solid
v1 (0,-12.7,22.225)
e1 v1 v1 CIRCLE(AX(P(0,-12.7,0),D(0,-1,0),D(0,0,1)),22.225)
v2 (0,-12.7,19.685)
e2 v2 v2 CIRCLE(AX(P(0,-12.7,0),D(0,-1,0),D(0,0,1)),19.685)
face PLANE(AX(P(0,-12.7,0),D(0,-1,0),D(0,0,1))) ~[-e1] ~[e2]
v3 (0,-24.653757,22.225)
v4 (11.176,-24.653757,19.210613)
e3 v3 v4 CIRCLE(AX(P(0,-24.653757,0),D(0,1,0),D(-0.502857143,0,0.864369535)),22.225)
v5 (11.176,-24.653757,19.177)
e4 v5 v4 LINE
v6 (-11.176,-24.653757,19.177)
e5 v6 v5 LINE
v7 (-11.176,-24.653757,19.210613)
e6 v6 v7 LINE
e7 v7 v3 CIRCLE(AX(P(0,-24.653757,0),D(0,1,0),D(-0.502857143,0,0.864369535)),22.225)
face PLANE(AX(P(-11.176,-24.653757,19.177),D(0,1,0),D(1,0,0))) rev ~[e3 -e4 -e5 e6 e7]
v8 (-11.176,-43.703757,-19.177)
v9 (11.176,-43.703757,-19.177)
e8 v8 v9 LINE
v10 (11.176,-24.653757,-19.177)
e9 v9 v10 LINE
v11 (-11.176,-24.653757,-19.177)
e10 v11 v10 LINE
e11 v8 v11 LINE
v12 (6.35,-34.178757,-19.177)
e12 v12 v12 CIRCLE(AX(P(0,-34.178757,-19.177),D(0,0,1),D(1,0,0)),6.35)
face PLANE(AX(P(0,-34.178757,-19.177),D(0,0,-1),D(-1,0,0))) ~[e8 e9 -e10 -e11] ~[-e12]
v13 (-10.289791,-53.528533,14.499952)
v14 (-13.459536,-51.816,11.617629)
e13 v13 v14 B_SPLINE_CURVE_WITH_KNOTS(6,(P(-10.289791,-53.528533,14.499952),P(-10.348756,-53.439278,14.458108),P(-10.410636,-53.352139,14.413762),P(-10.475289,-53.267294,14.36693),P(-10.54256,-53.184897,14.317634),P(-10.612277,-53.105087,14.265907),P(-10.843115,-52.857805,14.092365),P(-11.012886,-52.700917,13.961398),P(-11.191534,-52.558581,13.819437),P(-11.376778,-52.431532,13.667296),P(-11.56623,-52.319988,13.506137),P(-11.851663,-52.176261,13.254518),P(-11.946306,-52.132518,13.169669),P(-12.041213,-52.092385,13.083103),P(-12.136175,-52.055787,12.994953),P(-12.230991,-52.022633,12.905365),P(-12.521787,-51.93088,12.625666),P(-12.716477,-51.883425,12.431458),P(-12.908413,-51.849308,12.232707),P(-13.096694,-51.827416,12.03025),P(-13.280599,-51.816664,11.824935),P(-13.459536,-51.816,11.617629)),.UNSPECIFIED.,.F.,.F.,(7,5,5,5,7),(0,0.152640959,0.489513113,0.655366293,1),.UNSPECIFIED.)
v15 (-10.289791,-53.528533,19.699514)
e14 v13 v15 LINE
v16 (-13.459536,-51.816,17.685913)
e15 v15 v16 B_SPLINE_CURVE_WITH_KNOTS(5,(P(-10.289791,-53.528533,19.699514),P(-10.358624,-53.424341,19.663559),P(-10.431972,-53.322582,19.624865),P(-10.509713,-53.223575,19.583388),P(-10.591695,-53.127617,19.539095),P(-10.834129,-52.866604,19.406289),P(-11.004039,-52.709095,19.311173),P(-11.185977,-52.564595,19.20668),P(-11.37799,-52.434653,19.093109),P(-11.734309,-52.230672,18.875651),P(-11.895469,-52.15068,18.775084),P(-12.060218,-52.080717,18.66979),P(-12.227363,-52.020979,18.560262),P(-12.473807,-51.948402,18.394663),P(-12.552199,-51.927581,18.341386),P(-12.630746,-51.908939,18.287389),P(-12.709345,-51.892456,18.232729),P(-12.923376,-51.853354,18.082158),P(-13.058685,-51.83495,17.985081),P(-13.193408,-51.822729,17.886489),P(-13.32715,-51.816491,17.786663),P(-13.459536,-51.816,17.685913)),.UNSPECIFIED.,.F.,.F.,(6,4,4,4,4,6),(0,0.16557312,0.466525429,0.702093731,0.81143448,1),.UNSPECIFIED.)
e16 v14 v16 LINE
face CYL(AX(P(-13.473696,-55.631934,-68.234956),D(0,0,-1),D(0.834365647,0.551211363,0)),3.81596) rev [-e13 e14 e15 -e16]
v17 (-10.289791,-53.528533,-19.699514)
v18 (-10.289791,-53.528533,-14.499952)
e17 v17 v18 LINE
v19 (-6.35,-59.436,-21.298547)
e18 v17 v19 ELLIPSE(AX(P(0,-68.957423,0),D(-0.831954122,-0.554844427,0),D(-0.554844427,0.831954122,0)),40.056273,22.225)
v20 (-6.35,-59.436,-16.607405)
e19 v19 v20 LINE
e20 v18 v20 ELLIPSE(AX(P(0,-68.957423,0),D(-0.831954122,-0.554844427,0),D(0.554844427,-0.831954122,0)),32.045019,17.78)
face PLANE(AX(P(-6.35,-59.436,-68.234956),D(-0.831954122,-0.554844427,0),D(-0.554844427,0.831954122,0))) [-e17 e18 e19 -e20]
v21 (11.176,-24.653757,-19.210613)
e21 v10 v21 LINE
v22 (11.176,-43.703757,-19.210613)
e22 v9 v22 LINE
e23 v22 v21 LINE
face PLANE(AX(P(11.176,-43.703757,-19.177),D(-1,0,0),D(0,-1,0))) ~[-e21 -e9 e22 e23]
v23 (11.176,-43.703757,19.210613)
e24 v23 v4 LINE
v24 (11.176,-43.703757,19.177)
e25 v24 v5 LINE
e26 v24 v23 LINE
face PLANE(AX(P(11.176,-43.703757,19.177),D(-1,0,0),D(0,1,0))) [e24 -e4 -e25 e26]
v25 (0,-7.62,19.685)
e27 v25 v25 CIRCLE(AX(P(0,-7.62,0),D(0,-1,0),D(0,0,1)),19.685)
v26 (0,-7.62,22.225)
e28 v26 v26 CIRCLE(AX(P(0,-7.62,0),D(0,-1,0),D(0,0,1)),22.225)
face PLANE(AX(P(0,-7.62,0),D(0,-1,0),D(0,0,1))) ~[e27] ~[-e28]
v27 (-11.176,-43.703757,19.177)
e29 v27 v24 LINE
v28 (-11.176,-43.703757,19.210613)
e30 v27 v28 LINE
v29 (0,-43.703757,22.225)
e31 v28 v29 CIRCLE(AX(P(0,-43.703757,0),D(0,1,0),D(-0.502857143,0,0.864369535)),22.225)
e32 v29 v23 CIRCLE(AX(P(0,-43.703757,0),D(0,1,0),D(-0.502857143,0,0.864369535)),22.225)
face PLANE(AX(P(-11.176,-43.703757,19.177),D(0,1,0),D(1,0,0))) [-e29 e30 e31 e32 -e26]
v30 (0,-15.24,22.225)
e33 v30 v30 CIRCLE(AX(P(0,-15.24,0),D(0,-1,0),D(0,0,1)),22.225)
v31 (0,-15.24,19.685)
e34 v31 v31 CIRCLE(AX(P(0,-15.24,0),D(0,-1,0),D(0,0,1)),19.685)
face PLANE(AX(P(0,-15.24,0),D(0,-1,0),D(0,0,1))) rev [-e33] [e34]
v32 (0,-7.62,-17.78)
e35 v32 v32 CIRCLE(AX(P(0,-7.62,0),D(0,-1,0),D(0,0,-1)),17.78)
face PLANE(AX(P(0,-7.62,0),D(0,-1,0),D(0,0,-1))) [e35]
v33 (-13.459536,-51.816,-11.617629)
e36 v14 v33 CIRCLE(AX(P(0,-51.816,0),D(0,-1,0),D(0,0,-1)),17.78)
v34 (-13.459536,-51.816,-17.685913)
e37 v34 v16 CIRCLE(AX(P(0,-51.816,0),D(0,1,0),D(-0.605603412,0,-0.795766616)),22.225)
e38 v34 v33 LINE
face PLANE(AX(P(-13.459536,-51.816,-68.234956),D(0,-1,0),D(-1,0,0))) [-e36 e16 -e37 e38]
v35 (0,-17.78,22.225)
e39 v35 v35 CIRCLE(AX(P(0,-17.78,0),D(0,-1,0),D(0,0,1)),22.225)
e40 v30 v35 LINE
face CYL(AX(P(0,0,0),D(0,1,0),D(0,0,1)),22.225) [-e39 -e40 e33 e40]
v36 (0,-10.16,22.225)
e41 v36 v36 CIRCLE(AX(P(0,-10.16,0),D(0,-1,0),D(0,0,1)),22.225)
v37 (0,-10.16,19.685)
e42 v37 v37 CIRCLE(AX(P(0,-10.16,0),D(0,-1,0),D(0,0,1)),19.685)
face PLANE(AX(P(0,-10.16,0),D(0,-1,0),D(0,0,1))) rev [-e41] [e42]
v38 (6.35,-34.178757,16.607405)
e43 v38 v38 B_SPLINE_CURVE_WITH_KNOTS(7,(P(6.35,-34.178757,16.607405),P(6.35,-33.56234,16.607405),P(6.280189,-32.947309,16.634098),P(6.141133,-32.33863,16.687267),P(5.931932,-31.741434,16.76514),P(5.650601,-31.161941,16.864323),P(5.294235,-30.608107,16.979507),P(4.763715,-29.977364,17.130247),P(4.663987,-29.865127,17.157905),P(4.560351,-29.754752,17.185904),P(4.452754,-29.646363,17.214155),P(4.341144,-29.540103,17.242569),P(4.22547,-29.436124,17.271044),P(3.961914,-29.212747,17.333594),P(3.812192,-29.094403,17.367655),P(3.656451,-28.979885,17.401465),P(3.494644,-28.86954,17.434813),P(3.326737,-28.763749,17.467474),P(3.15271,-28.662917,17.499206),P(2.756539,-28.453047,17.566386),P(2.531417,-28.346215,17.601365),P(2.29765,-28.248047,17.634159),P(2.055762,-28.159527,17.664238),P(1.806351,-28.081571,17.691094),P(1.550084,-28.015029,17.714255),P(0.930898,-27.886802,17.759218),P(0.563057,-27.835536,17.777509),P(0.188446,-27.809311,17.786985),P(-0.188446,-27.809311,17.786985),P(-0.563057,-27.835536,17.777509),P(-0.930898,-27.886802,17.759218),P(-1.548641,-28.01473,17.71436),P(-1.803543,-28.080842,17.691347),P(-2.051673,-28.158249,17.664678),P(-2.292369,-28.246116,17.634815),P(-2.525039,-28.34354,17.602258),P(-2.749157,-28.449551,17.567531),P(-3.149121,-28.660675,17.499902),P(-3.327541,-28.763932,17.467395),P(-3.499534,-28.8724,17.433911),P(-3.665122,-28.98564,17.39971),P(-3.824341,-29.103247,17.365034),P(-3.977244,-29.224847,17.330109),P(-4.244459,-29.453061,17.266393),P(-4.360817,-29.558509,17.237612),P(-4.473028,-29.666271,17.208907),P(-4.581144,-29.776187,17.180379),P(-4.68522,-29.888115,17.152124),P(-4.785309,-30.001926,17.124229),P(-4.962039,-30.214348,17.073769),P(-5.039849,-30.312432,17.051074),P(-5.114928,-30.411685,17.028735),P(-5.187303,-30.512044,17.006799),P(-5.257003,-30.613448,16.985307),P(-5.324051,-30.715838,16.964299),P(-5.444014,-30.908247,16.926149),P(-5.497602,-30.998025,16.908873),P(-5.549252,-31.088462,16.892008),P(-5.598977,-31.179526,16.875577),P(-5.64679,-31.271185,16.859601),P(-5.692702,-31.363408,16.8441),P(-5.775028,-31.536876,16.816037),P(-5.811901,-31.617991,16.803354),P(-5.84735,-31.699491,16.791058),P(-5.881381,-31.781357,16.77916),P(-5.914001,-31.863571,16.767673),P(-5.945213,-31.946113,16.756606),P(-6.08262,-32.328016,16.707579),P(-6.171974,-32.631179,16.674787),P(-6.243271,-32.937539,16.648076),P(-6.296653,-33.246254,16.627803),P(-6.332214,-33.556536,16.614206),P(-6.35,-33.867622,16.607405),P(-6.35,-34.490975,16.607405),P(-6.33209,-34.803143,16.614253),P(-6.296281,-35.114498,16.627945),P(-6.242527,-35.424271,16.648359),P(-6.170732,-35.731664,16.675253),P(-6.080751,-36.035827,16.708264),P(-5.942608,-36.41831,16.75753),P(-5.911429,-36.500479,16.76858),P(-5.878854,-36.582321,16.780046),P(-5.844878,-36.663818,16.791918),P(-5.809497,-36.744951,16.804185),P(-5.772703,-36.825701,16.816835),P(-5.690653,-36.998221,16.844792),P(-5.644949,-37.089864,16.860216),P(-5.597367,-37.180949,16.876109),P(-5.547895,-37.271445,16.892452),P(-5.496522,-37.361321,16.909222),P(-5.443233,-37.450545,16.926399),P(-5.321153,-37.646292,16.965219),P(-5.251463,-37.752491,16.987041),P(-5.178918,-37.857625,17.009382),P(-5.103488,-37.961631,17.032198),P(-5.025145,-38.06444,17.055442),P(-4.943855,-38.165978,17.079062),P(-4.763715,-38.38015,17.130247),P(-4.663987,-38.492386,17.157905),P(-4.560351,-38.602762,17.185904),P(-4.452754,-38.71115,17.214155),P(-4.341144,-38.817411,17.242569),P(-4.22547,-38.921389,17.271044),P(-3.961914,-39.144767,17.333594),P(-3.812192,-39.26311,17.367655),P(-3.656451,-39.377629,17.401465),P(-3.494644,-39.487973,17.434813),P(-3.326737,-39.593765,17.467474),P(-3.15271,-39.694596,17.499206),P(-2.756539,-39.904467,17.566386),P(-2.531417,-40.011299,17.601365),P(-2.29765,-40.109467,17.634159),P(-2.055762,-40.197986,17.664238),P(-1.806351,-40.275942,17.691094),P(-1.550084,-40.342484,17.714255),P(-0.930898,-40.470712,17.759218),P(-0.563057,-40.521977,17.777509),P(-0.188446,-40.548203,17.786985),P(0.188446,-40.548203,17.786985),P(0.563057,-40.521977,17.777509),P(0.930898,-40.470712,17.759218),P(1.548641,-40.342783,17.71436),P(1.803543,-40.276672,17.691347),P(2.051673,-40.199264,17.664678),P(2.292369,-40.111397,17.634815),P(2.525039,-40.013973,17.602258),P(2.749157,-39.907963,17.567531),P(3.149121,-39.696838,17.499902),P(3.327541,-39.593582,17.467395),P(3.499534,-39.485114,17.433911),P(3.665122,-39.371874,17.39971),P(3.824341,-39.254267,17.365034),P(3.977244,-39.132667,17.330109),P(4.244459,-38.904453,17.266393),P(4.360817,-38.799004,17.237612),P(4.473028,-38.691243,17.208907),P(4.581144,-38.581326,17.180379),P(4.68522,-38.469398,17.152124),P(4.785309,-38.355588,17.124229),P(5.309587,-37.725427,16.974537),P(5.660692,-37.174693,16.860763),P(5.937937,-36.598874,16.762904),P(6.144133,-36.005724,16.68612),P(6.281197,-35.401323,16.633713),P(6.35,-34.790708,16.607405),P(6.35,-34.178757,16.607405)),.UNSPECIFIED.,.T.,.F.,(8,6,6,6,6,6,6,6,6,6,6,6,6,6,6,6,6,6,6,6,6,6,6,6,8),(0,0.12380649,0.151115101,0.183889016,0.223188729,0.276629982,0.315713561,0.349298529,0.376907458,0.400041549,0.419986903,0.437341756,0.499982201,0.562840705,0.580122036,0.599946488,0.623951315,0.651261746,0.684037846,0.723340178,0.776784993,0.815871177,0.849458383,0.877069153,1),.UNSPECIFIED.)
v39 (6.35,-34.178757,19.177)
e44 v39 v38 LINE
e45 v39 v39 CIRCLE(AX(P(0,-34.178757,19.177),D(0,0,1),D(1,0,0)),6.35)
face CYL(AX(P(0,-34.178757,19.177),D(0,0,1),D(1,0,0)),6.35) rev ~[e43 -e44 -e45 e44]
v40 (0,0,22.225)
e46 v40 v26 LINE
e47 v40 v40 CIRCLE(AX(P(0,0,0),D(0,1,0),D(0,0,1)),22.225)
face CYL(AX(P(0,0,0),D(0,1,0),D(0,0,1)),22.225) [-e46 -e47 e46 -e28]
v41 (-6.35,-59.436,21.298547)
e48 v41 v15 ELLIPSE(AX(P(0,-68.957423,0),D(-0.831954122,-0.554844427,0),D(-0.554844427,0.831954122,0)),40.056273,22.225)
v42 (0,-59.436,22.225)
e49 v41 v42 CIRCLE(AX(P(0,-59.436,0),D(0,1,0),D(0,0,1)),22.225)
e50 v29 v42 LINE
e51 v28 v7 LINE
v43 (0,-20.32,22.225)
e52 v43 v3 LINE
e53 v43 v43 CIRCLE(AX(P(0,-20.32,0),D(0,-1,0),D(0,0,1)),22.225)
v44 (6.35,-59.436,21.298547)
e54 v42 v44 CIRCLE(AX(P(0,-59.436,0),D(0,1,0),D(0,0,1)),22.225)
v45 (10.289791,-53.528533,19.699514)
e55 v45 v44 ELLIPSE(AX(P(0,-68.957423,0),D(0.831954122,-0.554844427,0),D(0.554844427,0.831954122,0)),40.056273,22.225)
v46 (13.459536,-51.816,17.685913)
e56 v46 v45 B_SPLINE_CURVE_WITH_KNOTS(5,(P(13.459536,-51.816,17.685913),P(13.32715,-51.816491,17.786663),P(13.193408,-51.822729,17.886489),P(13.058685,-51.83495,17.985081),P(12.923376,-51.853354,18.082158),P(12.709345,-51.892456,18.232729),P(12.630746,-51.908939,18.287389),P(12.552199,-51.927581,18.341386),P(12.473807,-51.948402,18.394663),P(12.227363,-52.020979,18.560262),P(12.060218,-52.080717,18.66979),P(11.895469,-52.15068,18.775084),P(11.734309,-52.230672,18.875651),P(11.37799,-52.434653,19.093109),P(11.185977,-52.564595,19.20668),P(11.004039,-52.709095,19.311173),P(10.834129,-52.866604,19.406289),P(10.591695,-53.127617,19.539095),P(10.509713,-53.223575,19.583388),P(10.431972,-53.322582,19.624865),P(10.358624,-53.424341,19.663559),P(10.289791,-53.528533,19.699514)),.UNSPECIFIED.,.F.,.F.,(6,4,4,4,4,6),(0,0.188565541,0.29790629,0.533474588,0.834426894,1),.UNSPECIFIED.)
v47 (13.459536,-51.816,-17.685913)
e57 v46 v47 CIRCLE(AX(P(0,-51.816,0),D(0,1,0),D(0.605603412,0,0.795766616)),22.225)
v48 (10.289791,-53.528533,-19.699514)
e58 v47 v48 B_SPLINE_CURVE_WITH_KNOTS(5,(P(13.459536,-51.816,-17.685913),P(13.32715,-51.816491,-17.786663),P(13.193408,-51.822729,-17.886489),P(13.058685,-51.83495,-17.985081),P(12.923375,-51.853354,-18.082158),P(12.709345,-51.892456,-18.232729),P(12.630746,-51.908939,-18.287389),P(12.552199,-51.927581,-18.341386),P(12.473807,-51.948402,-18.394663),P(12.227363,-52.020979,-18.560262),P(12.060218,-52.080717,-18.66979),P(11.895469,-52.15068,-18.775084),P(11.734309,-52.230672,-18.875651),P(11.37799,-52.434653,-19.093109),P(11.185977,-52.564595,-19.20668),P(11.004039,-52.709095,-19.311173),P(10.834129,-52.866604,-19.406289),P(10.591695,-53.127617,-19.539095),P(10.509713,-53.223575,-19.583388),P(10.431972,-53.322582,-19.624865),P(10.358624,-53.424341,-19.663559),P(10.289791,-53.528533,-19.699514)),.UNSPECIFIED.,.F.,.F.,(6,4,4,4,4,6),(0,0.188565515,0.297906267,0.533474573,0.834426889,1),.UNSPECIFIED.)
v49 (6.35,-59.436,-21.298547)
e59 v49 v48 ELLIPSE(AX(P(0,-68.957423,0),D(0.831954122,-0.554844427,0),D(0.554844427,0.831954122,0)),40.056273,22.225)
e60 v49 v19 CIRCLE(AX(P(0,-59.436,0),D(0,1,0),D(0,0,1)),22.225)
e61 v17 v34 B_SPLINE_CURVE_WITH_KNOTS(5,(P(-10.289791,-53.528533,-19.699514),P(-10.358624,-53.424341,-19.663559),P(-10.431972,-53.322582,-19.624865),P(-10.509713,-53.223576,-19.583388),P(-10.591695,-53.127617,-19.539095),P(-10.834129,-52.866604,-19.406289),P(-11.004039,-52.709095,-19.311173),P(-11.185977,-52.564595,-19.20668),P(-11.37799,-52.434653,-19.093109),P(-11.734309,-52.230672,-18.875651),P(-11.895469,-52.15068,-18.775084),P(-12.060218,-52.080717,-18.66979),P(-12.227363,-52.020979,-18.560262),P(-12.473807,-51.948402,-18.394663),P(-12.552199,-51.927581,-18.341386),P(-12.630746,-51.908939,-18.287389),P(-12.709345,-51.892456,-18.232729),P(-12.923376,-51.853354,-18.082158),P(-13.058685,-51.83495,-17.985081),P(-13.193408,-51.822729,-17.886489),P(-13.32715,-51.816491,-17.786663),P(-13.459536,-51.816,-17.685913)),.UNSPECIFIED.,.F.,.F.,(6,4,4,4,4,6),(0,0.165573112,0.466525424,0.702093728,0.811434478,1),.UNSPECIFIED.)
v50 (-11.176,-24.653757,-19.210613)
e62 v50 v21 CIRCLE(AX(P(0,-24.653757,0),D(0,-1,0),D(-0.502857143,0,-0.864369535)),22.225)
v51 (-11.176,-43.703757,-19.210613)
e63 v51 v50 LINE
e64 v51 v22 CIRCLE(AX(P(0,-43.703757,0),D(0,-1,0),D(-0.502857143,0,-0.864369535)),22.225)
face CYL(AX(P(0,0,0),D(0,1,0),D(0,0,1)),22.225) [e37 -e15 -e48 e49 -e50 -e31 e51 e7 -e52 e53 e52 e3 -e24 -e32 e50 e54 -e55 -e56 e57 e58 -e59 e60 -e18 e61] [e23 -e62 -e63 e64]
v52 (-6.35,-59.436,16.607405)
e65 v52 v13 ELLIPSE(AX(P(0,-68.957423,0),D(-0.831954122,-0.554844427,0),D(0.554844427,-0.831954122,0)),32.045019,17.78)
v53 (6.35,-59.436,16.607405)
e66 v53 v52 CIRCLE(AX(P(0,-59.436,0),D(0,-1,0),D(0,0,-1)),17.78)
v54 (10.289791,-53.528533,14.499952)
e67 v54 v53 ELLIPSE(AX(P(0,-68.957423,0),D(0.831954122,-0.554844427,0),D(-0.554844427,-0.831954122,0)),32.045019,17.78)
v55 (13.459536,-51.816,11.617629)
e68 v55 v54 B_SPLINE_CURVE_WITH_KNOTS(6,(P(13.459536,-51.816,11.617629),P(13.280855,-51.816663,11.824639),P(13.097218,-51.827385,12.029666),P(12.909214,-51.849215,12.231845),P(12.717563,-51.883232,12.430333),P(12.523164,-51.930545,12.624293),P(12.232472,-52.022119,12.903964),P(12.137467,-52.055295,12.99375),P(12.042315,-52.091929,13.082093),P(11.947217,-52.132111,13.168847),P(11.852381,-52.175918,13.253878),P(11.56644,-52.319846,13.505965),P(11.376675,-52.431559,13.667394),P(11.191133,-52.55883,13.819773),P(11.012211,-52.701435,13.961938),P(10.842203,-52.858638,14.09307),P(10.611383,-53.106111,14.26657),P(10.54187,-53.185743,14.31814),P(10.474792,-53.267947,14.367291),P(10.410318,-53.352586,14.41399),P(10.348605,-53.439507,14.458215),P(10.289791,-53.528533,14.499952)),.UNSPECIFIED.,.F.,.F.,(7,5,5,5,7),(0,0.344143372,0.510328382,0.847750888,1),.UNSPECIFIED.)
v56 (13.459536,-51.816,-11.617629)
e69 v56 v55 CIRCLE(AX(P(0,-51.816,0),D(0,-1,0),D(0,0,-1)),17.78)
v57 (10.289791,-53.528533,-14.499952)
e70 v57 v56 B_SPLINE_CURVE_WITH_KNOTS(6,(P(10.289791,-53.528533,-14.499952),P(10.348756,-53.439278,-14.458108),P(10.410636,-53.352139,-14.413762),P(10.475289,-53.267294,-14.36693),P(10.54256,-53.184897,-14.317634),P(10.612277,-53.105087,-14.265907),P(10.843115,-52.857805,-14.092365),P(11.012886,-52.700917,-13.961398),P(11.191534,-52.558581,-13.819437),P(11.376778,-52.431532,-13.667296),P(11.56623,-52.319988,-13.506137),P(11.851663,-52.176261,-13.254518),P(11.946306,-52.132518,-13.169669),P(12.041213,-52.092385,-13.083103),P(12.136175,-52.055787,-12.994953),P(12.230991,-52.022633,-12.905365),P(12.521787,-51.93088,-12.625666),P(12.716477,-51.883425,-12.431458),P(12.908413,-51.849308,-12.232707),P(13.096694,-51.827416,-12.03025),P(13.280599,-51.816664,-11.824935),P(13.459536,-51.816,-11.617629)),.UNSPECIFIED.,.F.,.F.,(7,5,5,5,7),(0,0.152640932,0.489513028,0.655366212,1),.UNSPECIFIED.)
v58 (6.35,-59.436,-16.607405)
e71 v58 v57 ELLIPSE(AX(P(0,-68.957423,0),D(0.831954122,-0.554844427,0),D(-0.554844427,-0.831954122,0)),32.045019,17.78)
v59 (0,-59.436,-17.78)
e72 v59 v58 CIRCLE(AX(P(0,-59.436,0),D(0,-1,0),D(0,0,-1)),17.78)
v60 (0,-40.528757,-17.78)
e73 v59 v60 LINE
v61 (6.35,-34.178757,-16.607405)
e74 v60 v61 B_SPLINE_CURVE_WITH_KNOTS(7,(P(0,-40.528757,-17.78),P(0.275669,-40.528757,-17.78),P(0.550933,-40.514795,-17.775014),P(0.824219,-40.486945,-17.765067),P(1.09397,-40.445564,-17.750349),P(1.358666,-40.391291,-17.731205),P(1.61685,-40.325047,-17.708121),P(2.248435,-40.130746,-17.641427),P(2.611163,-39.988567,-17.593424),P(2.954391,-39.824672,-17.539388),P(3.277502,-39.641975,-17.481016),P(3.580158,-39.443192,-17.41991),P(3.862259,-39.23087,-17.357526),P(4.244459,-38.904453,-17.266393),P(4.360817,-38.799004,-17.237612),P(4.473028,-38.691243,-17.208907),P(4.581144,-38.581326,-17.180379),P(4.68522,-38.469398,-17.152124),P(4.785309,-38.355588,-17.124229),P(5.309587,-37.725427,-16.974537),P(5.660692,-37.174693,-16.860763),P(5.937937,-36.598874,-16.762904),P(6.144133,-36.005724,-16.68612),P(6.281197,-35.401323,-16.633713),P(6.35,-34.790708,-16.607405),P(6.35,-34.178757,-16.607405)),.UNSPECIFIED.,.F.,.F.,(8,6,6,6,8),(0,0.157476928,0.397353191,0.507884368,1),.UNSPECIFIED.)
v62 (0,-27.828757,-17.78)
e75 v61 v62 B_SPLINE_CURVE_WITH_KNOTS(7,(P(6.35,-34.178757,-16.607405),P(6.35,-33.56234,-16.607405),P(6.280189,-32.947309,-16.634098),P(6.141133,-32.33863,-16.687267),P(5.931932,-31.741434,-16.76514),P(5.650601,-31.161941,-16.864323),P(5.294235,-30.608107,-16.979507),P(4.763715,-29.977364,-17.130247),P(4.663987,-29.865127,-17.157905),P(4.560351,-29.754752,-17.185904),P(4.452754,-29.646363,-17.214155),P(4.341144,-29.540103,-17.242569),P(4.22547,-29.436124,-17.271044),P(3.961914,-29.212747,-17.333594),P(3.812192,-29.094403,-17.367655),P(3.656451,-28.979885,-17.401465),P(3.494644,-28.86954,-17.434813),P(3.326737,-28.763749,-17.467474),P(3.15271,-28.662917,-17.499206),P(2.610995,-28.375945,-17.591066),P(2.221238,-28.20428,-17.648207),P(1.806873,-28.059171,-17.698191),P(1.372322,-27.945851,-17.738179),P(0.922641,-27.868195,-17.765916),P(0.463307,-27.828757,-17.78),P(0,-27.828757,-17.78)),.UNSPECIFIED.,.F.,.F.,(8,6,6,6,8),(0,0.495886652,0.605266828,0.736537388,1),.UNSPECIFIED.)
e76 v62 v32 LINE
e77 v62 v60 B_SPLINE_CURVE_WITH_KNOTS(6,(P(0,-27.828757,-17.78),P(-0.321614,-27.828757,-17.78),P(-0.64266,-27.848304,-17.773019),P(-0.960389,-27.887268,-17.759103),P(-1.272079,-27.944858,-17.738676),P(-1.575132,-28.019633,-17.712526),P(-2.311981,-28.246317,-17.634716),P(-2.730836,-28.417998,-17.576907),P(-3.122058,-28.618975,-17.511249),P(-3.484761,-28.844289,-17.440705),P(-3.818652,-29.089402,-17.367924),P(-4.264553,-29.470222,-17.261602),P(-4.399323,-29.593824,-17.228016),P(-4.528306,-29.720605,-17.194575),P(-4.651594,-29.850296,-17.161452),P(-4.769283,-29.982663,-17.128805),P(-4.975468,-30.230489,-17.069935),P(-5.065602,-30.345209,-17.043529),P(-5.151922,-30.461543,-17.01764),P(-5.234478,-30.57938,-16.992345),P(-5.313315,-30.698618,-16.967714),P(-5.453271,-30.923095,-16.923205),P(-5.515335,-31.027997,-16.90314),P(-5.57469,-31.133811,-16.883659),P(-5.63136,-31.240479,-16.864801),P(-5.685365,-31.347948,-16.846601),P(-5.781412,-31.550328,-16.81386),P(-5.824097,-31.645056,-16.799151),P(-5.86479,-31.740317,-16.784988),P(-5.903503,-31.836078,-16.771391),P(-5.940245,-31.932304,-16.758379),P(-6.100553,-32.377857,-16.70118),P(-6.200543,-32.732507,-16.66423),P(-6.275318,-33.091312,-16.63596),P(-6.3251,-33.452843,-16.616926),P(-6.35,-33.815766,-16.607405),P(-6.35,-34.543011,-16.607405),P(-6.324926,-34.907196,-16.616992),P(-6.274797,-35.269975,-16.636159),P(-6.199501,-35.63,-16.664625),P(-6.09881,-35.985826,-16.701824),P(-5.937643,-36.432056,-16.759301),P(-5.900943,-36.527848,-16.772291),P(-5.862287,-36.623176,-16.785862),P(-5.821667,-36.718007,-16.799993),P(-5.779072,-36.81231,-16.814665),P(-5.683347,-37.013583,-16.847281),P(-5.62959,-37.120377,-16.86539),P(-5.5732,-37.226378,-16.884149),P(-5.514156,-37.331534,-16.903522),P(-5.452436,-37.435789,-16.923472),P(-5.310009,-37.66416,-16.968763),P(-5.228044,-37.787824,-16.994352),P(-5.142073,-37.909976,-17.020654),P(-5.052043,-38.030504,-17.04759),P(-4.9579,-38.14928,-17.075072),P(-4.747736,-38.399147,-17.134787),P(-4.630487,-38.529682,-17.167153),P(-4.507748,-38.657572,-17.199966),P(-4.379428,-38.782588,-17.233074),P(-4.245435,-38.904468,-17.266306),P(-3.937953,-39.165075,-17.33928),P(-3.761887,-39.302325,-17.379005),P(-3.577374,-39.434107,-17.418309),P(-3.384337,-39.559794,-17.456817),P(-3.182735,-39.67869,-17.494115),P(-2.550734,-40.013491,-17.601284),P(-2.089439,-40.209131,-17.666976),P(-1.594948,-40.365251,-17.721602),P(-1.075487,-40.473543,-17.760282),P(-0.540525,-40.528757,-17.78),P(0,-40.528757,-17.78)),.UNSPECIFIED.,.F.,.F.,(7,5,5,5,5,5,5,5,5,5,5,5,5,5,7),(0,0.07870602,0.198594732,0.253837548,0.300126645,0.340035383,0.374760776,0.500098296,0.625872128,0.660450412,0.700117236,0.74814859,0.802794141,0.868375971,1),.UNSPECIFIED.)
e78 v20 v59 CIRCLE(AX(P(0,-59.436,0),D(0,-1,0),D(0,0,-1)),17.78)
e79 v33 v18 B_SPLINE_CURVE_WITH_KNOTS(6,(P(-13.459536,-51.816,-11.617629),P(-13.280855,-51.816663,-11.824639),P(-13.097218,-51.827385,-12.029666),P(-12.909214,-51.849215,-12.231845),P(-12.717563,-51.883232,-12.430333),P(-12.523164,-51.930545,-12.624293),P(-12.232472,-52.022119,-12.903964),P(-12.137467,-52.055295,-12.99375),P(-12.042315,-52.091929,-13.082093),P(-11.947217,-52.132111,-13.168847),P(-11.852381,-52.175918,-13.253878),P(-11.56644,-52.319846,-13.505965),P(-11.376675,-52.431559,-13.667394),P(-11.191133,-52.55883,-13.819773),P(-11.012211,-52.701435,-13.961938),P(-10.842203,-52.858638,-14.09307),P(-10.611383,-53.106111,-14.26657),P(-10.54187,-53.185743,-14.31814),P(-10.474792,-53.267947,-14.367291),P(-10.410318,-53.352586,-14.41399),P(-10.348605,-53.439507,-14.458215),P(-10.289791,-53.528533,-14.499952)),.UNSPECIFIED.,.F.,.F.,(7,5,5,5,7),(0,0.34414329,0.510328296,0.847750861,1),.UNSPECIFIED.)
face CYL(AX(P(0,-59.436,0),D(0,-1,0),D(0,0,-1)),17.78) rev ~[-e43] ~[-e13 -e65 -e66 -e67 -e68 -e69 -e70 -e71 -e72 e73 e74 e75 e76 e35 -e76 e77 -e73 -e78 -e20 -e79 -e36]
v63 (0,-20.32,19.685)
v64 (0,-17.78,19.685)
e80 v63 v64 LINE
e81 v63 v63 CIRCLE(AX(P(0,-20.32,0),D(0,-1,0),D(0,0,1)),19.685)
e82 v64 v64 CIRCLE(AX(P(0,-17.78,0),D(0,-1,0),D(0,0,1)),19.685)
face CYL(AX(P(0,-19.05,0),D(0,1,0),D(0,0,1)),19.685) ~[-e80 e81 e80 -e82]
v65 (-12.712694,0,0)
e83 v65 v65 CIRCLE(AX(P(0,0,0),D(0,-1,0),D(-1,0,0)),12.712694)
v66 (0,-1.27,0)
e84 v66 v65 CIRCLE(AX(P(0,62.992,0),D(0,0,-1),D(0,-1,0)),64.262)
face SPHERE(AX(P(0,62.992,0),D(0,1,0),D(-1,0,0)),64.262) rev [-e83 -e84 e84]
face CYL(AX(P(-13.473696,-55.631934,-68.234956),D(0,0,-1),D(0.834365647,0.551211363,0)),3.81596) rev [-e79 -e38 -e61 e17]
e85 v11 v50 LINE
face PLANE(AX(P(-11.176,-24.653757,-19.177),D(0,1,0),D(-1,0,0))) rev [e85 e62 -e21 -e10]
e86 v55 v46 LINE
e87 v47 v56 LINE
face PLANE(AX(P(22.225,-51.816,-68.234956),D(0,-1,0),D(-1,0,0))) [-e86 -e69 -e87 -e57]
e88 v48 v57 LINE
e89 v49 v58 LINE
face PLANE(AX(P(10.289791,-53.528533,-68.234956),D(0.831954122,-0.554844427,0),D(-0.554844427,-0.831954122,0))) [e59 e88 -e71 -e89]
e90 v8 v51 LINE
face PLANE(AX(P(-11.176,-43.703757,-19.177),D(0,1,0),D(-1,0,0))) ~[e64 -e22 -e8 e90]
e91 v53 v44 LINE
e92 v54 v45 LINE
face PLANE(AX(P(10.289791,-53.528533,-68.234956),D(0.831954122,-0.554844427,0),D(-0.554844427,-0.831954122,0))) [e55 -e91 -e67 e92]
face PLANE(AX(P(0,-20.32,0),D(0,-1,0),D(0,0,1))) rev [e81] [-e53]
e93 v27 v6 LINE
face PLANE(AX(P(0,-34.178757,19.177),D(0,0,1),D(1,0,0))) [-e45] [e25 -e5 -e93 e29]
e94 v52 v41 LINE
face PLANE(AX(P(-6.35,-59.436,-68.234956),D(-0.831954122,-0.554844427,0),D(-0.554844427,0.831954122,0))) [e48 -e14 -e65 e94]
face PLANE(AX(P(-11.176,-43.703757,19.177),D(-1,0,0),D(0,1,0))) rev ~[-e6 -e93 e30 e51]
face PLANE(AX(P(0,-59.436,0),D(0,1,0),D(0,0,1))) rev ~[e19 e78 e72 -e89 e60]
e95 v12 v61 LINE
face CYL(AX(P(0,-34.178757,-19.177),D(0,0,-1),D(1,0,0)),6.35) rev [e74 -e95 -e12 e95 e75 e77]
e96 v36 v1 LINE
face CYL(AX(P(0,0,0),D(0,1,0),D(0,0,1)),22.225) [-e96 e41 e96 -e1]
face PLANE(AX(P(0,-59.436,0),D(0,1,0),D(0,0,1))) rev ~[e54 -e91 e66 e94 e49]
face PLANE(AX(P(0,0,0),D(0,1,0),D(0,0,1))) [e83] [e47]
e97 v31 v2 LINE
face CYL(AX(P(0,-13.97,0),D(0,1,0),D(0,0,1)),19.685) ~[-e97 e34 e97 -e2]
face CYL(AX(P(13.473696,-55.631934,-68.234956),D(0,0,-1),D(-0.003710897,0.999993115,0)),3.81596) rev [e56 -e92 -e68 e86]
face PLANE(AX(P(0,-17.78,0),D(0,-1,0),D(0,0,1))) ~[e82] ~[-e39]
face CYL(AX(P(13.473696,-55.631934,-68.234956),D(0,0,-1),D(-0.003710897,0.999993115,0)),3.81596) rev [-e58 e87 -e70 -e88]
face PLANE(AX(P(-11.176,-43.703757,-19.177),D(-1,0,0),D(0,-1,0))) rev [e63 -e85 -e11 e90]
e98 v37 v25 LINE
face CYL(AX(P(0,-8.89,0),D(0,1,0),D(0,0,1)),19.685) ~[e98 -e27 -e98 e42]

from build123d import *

# Parameters (mm, degrees)
SKETCH4_R               = 22.225
BOSS_EXTRUDE1_DEPTH     = 59.436
SKETCH5_W               = 2.54
SKETCH5_H               = 2.54
SKETCH6_R               = 17.78
CUT_EXTRUDE1_DEPTH      = 51.816
CUT_EXTRUDE3_DEPTH      = 68.23495628
CUT_EXTRUDE3_DEPTH_BACK = 68.23495628
CUT_EXTRUDE5_REACH      = 77.768
CUT_EXTRUDE5_END_RADIUS = 22.225
SKETCH12_W              = 22.352
SKETCH12_H              = 19.05
SKETCH13_R              = 6.35
CUT_EXTRUDE6_DEPTH      = 5.842


with BuildPart() as part:
    # Sketch4 → Boss-Extrude1 (new body)
    with BuildSketch(Plane(origin=(0, 0, 0), x_dir=(1, 0, 0), z_dir=(0, 1, 0))):
        with Locations(Location((0, 0, 0), (0, 0, 270))):
            Circle(SKETCH4_R)
    extrude(amount=-BOSS_EXTRUDE1_DEPTH)

    # Sketch5 → Cut-Revolve1 (revolve, cut)
    with BuildSketch(Plane.XY, mode=Mode.PRIVATE) as cut_revolve1_sk:
        with Locations((20.955, -8.89)):
            Rectangle(SKETCH5_W, SKETCH5_H)
        with Locations((20.955, -13.97)):
            Rectangle(SKETCH5_W, SKETCH5_H)
        with Locations((20.955, -19.05)):
            Rectangle(SKETCH5_W, SKETCH5_H)
    revolve(cut_revolve1_sk.sketch.rotate(Axis((0, 26.260199794, 0), (0, -1, 0)), 90), axis=Axis((0, 26.260199794, 0), (0, -1, 0)), mode=Mode.SUBTRACT)

    # Sketch6 → Cut-Extrude1 (cut)
    with BuildSketch(Plane.XZ.offset(59.436)):
        with Locations(Location((0, 0, 0), (0, 0, 270))):
            Circle(SKETCH6_R)
    extrude(amount=-CUT_EXTRUDE1_DEPTH, mode=Mode.SUBTRACT)

    # Sketch7 → Cut-Extrude3 (cut, two sides: drawn at the far end of the back side and taken through both)
    with BuildSketch(Plane.XY.offset(-CUT_EXTRUDE3_DEPTH_BACK)):
        with BuildLine():
            Line((22.225, -59.436), (22.225, -51.816))
            Line((22.225, -51.816), (13.459535823, -51.816))
            ThreePointArc((13.459535823, -51.816), (11.659833258, -52.274635573), (10.289790639, -53.52853315))
            Line((10.289790639, -53.52853315), (6.35, -59.436))
            Line((6.35, -59.436), (22.225, -59.436))
        make_face()
        with BuildLine():
            Line((-22.225, -59.436), (-6.35, -59.436))
            Line((-6.35, -59.436), (-10.289790639, -53.52853315))
            ThreePointArc((-10.289790639, -53.52853315), (-11.659833258, -52.274635573), (-13.459535823, -51.816))
            Line((-13.459535823, -51.816), (-22.225, -51.816))
            Line((-22.225, -51.816), (-22.225, -59.436))
        make_face()
    extrude(amount=CUT_EXTRUDE3_DEPTH + CUT_EXTRUDE3_DEPTH_BACK, mode=Mode.SUBTRACT)

    # Cut-Extrude5: up to this cylinder (the profile starts inside it)
    cut_extrude5_end = Plane(origin=(0, -34.178757, 0), z_dir=(0, 1, 0)) * Cylinder(CUT_EXTRUDE5_END_RADIUS, 200.986, mode=Mode.PRIVATE)
    # Sketch12 → Cut-Extrude5 (cut, up to the surface)
    with BuildSketch(Plane.XY.offset(19.177), mode=Mode.PRIVATE) as cut_extrude5_sk1:
        with Locations((0, -34.17875674)):
            Rectangle(SKETCH12_W, SKETCH12_H)
    cut_extrude5_tool1 = extrude(cut_extrude5_sk1.sketch, amount=CUT_EXTRUDE5_REACH, mode=Mode.PRIVATE) & cut_extrude5_end
    cut_extrude5 = cut_extrude5_tool1.solids().sort_by_distance((0, -34.178757, 19.177))[0]
    add(cut_extrude5, mode=Mode.SUBTRACT)

    # Sketch13 → Cut-Extrude6 (cut)
    with BuildSketch(Plane.XY.offset(19.177)):
        with Locations((0, -34.17875674)):
            Circle(SKETCH13_R)
    cut_extrude6 = extrude(amount=-CUT_EXTRUDE6_DEPTH, mode=Mode.SUBTRACT)

    # Mirror1: Cut-Extrude5, Cut-Extrude6 across plane
    add(cut_extrude5.mirror(Plane.XY), mode=Mode.SUBTRACT)
    add(cut_extrude6.mirror(Plane.XY), mode=Mode.SUBTRACT)

    # Sketch16 → Cut-Revolve2 (revolve, cut)
    with BuildSketch(Plane.XY, mode=Mode.PRIVATE) as cut_revolve2_sk:
        with BuildLine():
            Line((0, 0), (0, -1.27))
            ThreePointArc((0, -1.27), (6.387986381, -0.951711763), (12.712693656, 0))
            Line((12.712693656, 0), (0, 0))
        make_face()
    revolve(cut_revolve2_sk.sketch.rotate(Axis((0, 62.992, 0), (0, -1, 0)), 180), axis=Axis((0, 62.992, 0), (0, -1, 0)), mode=Mode.SUBTRACT)


solid = part.part
